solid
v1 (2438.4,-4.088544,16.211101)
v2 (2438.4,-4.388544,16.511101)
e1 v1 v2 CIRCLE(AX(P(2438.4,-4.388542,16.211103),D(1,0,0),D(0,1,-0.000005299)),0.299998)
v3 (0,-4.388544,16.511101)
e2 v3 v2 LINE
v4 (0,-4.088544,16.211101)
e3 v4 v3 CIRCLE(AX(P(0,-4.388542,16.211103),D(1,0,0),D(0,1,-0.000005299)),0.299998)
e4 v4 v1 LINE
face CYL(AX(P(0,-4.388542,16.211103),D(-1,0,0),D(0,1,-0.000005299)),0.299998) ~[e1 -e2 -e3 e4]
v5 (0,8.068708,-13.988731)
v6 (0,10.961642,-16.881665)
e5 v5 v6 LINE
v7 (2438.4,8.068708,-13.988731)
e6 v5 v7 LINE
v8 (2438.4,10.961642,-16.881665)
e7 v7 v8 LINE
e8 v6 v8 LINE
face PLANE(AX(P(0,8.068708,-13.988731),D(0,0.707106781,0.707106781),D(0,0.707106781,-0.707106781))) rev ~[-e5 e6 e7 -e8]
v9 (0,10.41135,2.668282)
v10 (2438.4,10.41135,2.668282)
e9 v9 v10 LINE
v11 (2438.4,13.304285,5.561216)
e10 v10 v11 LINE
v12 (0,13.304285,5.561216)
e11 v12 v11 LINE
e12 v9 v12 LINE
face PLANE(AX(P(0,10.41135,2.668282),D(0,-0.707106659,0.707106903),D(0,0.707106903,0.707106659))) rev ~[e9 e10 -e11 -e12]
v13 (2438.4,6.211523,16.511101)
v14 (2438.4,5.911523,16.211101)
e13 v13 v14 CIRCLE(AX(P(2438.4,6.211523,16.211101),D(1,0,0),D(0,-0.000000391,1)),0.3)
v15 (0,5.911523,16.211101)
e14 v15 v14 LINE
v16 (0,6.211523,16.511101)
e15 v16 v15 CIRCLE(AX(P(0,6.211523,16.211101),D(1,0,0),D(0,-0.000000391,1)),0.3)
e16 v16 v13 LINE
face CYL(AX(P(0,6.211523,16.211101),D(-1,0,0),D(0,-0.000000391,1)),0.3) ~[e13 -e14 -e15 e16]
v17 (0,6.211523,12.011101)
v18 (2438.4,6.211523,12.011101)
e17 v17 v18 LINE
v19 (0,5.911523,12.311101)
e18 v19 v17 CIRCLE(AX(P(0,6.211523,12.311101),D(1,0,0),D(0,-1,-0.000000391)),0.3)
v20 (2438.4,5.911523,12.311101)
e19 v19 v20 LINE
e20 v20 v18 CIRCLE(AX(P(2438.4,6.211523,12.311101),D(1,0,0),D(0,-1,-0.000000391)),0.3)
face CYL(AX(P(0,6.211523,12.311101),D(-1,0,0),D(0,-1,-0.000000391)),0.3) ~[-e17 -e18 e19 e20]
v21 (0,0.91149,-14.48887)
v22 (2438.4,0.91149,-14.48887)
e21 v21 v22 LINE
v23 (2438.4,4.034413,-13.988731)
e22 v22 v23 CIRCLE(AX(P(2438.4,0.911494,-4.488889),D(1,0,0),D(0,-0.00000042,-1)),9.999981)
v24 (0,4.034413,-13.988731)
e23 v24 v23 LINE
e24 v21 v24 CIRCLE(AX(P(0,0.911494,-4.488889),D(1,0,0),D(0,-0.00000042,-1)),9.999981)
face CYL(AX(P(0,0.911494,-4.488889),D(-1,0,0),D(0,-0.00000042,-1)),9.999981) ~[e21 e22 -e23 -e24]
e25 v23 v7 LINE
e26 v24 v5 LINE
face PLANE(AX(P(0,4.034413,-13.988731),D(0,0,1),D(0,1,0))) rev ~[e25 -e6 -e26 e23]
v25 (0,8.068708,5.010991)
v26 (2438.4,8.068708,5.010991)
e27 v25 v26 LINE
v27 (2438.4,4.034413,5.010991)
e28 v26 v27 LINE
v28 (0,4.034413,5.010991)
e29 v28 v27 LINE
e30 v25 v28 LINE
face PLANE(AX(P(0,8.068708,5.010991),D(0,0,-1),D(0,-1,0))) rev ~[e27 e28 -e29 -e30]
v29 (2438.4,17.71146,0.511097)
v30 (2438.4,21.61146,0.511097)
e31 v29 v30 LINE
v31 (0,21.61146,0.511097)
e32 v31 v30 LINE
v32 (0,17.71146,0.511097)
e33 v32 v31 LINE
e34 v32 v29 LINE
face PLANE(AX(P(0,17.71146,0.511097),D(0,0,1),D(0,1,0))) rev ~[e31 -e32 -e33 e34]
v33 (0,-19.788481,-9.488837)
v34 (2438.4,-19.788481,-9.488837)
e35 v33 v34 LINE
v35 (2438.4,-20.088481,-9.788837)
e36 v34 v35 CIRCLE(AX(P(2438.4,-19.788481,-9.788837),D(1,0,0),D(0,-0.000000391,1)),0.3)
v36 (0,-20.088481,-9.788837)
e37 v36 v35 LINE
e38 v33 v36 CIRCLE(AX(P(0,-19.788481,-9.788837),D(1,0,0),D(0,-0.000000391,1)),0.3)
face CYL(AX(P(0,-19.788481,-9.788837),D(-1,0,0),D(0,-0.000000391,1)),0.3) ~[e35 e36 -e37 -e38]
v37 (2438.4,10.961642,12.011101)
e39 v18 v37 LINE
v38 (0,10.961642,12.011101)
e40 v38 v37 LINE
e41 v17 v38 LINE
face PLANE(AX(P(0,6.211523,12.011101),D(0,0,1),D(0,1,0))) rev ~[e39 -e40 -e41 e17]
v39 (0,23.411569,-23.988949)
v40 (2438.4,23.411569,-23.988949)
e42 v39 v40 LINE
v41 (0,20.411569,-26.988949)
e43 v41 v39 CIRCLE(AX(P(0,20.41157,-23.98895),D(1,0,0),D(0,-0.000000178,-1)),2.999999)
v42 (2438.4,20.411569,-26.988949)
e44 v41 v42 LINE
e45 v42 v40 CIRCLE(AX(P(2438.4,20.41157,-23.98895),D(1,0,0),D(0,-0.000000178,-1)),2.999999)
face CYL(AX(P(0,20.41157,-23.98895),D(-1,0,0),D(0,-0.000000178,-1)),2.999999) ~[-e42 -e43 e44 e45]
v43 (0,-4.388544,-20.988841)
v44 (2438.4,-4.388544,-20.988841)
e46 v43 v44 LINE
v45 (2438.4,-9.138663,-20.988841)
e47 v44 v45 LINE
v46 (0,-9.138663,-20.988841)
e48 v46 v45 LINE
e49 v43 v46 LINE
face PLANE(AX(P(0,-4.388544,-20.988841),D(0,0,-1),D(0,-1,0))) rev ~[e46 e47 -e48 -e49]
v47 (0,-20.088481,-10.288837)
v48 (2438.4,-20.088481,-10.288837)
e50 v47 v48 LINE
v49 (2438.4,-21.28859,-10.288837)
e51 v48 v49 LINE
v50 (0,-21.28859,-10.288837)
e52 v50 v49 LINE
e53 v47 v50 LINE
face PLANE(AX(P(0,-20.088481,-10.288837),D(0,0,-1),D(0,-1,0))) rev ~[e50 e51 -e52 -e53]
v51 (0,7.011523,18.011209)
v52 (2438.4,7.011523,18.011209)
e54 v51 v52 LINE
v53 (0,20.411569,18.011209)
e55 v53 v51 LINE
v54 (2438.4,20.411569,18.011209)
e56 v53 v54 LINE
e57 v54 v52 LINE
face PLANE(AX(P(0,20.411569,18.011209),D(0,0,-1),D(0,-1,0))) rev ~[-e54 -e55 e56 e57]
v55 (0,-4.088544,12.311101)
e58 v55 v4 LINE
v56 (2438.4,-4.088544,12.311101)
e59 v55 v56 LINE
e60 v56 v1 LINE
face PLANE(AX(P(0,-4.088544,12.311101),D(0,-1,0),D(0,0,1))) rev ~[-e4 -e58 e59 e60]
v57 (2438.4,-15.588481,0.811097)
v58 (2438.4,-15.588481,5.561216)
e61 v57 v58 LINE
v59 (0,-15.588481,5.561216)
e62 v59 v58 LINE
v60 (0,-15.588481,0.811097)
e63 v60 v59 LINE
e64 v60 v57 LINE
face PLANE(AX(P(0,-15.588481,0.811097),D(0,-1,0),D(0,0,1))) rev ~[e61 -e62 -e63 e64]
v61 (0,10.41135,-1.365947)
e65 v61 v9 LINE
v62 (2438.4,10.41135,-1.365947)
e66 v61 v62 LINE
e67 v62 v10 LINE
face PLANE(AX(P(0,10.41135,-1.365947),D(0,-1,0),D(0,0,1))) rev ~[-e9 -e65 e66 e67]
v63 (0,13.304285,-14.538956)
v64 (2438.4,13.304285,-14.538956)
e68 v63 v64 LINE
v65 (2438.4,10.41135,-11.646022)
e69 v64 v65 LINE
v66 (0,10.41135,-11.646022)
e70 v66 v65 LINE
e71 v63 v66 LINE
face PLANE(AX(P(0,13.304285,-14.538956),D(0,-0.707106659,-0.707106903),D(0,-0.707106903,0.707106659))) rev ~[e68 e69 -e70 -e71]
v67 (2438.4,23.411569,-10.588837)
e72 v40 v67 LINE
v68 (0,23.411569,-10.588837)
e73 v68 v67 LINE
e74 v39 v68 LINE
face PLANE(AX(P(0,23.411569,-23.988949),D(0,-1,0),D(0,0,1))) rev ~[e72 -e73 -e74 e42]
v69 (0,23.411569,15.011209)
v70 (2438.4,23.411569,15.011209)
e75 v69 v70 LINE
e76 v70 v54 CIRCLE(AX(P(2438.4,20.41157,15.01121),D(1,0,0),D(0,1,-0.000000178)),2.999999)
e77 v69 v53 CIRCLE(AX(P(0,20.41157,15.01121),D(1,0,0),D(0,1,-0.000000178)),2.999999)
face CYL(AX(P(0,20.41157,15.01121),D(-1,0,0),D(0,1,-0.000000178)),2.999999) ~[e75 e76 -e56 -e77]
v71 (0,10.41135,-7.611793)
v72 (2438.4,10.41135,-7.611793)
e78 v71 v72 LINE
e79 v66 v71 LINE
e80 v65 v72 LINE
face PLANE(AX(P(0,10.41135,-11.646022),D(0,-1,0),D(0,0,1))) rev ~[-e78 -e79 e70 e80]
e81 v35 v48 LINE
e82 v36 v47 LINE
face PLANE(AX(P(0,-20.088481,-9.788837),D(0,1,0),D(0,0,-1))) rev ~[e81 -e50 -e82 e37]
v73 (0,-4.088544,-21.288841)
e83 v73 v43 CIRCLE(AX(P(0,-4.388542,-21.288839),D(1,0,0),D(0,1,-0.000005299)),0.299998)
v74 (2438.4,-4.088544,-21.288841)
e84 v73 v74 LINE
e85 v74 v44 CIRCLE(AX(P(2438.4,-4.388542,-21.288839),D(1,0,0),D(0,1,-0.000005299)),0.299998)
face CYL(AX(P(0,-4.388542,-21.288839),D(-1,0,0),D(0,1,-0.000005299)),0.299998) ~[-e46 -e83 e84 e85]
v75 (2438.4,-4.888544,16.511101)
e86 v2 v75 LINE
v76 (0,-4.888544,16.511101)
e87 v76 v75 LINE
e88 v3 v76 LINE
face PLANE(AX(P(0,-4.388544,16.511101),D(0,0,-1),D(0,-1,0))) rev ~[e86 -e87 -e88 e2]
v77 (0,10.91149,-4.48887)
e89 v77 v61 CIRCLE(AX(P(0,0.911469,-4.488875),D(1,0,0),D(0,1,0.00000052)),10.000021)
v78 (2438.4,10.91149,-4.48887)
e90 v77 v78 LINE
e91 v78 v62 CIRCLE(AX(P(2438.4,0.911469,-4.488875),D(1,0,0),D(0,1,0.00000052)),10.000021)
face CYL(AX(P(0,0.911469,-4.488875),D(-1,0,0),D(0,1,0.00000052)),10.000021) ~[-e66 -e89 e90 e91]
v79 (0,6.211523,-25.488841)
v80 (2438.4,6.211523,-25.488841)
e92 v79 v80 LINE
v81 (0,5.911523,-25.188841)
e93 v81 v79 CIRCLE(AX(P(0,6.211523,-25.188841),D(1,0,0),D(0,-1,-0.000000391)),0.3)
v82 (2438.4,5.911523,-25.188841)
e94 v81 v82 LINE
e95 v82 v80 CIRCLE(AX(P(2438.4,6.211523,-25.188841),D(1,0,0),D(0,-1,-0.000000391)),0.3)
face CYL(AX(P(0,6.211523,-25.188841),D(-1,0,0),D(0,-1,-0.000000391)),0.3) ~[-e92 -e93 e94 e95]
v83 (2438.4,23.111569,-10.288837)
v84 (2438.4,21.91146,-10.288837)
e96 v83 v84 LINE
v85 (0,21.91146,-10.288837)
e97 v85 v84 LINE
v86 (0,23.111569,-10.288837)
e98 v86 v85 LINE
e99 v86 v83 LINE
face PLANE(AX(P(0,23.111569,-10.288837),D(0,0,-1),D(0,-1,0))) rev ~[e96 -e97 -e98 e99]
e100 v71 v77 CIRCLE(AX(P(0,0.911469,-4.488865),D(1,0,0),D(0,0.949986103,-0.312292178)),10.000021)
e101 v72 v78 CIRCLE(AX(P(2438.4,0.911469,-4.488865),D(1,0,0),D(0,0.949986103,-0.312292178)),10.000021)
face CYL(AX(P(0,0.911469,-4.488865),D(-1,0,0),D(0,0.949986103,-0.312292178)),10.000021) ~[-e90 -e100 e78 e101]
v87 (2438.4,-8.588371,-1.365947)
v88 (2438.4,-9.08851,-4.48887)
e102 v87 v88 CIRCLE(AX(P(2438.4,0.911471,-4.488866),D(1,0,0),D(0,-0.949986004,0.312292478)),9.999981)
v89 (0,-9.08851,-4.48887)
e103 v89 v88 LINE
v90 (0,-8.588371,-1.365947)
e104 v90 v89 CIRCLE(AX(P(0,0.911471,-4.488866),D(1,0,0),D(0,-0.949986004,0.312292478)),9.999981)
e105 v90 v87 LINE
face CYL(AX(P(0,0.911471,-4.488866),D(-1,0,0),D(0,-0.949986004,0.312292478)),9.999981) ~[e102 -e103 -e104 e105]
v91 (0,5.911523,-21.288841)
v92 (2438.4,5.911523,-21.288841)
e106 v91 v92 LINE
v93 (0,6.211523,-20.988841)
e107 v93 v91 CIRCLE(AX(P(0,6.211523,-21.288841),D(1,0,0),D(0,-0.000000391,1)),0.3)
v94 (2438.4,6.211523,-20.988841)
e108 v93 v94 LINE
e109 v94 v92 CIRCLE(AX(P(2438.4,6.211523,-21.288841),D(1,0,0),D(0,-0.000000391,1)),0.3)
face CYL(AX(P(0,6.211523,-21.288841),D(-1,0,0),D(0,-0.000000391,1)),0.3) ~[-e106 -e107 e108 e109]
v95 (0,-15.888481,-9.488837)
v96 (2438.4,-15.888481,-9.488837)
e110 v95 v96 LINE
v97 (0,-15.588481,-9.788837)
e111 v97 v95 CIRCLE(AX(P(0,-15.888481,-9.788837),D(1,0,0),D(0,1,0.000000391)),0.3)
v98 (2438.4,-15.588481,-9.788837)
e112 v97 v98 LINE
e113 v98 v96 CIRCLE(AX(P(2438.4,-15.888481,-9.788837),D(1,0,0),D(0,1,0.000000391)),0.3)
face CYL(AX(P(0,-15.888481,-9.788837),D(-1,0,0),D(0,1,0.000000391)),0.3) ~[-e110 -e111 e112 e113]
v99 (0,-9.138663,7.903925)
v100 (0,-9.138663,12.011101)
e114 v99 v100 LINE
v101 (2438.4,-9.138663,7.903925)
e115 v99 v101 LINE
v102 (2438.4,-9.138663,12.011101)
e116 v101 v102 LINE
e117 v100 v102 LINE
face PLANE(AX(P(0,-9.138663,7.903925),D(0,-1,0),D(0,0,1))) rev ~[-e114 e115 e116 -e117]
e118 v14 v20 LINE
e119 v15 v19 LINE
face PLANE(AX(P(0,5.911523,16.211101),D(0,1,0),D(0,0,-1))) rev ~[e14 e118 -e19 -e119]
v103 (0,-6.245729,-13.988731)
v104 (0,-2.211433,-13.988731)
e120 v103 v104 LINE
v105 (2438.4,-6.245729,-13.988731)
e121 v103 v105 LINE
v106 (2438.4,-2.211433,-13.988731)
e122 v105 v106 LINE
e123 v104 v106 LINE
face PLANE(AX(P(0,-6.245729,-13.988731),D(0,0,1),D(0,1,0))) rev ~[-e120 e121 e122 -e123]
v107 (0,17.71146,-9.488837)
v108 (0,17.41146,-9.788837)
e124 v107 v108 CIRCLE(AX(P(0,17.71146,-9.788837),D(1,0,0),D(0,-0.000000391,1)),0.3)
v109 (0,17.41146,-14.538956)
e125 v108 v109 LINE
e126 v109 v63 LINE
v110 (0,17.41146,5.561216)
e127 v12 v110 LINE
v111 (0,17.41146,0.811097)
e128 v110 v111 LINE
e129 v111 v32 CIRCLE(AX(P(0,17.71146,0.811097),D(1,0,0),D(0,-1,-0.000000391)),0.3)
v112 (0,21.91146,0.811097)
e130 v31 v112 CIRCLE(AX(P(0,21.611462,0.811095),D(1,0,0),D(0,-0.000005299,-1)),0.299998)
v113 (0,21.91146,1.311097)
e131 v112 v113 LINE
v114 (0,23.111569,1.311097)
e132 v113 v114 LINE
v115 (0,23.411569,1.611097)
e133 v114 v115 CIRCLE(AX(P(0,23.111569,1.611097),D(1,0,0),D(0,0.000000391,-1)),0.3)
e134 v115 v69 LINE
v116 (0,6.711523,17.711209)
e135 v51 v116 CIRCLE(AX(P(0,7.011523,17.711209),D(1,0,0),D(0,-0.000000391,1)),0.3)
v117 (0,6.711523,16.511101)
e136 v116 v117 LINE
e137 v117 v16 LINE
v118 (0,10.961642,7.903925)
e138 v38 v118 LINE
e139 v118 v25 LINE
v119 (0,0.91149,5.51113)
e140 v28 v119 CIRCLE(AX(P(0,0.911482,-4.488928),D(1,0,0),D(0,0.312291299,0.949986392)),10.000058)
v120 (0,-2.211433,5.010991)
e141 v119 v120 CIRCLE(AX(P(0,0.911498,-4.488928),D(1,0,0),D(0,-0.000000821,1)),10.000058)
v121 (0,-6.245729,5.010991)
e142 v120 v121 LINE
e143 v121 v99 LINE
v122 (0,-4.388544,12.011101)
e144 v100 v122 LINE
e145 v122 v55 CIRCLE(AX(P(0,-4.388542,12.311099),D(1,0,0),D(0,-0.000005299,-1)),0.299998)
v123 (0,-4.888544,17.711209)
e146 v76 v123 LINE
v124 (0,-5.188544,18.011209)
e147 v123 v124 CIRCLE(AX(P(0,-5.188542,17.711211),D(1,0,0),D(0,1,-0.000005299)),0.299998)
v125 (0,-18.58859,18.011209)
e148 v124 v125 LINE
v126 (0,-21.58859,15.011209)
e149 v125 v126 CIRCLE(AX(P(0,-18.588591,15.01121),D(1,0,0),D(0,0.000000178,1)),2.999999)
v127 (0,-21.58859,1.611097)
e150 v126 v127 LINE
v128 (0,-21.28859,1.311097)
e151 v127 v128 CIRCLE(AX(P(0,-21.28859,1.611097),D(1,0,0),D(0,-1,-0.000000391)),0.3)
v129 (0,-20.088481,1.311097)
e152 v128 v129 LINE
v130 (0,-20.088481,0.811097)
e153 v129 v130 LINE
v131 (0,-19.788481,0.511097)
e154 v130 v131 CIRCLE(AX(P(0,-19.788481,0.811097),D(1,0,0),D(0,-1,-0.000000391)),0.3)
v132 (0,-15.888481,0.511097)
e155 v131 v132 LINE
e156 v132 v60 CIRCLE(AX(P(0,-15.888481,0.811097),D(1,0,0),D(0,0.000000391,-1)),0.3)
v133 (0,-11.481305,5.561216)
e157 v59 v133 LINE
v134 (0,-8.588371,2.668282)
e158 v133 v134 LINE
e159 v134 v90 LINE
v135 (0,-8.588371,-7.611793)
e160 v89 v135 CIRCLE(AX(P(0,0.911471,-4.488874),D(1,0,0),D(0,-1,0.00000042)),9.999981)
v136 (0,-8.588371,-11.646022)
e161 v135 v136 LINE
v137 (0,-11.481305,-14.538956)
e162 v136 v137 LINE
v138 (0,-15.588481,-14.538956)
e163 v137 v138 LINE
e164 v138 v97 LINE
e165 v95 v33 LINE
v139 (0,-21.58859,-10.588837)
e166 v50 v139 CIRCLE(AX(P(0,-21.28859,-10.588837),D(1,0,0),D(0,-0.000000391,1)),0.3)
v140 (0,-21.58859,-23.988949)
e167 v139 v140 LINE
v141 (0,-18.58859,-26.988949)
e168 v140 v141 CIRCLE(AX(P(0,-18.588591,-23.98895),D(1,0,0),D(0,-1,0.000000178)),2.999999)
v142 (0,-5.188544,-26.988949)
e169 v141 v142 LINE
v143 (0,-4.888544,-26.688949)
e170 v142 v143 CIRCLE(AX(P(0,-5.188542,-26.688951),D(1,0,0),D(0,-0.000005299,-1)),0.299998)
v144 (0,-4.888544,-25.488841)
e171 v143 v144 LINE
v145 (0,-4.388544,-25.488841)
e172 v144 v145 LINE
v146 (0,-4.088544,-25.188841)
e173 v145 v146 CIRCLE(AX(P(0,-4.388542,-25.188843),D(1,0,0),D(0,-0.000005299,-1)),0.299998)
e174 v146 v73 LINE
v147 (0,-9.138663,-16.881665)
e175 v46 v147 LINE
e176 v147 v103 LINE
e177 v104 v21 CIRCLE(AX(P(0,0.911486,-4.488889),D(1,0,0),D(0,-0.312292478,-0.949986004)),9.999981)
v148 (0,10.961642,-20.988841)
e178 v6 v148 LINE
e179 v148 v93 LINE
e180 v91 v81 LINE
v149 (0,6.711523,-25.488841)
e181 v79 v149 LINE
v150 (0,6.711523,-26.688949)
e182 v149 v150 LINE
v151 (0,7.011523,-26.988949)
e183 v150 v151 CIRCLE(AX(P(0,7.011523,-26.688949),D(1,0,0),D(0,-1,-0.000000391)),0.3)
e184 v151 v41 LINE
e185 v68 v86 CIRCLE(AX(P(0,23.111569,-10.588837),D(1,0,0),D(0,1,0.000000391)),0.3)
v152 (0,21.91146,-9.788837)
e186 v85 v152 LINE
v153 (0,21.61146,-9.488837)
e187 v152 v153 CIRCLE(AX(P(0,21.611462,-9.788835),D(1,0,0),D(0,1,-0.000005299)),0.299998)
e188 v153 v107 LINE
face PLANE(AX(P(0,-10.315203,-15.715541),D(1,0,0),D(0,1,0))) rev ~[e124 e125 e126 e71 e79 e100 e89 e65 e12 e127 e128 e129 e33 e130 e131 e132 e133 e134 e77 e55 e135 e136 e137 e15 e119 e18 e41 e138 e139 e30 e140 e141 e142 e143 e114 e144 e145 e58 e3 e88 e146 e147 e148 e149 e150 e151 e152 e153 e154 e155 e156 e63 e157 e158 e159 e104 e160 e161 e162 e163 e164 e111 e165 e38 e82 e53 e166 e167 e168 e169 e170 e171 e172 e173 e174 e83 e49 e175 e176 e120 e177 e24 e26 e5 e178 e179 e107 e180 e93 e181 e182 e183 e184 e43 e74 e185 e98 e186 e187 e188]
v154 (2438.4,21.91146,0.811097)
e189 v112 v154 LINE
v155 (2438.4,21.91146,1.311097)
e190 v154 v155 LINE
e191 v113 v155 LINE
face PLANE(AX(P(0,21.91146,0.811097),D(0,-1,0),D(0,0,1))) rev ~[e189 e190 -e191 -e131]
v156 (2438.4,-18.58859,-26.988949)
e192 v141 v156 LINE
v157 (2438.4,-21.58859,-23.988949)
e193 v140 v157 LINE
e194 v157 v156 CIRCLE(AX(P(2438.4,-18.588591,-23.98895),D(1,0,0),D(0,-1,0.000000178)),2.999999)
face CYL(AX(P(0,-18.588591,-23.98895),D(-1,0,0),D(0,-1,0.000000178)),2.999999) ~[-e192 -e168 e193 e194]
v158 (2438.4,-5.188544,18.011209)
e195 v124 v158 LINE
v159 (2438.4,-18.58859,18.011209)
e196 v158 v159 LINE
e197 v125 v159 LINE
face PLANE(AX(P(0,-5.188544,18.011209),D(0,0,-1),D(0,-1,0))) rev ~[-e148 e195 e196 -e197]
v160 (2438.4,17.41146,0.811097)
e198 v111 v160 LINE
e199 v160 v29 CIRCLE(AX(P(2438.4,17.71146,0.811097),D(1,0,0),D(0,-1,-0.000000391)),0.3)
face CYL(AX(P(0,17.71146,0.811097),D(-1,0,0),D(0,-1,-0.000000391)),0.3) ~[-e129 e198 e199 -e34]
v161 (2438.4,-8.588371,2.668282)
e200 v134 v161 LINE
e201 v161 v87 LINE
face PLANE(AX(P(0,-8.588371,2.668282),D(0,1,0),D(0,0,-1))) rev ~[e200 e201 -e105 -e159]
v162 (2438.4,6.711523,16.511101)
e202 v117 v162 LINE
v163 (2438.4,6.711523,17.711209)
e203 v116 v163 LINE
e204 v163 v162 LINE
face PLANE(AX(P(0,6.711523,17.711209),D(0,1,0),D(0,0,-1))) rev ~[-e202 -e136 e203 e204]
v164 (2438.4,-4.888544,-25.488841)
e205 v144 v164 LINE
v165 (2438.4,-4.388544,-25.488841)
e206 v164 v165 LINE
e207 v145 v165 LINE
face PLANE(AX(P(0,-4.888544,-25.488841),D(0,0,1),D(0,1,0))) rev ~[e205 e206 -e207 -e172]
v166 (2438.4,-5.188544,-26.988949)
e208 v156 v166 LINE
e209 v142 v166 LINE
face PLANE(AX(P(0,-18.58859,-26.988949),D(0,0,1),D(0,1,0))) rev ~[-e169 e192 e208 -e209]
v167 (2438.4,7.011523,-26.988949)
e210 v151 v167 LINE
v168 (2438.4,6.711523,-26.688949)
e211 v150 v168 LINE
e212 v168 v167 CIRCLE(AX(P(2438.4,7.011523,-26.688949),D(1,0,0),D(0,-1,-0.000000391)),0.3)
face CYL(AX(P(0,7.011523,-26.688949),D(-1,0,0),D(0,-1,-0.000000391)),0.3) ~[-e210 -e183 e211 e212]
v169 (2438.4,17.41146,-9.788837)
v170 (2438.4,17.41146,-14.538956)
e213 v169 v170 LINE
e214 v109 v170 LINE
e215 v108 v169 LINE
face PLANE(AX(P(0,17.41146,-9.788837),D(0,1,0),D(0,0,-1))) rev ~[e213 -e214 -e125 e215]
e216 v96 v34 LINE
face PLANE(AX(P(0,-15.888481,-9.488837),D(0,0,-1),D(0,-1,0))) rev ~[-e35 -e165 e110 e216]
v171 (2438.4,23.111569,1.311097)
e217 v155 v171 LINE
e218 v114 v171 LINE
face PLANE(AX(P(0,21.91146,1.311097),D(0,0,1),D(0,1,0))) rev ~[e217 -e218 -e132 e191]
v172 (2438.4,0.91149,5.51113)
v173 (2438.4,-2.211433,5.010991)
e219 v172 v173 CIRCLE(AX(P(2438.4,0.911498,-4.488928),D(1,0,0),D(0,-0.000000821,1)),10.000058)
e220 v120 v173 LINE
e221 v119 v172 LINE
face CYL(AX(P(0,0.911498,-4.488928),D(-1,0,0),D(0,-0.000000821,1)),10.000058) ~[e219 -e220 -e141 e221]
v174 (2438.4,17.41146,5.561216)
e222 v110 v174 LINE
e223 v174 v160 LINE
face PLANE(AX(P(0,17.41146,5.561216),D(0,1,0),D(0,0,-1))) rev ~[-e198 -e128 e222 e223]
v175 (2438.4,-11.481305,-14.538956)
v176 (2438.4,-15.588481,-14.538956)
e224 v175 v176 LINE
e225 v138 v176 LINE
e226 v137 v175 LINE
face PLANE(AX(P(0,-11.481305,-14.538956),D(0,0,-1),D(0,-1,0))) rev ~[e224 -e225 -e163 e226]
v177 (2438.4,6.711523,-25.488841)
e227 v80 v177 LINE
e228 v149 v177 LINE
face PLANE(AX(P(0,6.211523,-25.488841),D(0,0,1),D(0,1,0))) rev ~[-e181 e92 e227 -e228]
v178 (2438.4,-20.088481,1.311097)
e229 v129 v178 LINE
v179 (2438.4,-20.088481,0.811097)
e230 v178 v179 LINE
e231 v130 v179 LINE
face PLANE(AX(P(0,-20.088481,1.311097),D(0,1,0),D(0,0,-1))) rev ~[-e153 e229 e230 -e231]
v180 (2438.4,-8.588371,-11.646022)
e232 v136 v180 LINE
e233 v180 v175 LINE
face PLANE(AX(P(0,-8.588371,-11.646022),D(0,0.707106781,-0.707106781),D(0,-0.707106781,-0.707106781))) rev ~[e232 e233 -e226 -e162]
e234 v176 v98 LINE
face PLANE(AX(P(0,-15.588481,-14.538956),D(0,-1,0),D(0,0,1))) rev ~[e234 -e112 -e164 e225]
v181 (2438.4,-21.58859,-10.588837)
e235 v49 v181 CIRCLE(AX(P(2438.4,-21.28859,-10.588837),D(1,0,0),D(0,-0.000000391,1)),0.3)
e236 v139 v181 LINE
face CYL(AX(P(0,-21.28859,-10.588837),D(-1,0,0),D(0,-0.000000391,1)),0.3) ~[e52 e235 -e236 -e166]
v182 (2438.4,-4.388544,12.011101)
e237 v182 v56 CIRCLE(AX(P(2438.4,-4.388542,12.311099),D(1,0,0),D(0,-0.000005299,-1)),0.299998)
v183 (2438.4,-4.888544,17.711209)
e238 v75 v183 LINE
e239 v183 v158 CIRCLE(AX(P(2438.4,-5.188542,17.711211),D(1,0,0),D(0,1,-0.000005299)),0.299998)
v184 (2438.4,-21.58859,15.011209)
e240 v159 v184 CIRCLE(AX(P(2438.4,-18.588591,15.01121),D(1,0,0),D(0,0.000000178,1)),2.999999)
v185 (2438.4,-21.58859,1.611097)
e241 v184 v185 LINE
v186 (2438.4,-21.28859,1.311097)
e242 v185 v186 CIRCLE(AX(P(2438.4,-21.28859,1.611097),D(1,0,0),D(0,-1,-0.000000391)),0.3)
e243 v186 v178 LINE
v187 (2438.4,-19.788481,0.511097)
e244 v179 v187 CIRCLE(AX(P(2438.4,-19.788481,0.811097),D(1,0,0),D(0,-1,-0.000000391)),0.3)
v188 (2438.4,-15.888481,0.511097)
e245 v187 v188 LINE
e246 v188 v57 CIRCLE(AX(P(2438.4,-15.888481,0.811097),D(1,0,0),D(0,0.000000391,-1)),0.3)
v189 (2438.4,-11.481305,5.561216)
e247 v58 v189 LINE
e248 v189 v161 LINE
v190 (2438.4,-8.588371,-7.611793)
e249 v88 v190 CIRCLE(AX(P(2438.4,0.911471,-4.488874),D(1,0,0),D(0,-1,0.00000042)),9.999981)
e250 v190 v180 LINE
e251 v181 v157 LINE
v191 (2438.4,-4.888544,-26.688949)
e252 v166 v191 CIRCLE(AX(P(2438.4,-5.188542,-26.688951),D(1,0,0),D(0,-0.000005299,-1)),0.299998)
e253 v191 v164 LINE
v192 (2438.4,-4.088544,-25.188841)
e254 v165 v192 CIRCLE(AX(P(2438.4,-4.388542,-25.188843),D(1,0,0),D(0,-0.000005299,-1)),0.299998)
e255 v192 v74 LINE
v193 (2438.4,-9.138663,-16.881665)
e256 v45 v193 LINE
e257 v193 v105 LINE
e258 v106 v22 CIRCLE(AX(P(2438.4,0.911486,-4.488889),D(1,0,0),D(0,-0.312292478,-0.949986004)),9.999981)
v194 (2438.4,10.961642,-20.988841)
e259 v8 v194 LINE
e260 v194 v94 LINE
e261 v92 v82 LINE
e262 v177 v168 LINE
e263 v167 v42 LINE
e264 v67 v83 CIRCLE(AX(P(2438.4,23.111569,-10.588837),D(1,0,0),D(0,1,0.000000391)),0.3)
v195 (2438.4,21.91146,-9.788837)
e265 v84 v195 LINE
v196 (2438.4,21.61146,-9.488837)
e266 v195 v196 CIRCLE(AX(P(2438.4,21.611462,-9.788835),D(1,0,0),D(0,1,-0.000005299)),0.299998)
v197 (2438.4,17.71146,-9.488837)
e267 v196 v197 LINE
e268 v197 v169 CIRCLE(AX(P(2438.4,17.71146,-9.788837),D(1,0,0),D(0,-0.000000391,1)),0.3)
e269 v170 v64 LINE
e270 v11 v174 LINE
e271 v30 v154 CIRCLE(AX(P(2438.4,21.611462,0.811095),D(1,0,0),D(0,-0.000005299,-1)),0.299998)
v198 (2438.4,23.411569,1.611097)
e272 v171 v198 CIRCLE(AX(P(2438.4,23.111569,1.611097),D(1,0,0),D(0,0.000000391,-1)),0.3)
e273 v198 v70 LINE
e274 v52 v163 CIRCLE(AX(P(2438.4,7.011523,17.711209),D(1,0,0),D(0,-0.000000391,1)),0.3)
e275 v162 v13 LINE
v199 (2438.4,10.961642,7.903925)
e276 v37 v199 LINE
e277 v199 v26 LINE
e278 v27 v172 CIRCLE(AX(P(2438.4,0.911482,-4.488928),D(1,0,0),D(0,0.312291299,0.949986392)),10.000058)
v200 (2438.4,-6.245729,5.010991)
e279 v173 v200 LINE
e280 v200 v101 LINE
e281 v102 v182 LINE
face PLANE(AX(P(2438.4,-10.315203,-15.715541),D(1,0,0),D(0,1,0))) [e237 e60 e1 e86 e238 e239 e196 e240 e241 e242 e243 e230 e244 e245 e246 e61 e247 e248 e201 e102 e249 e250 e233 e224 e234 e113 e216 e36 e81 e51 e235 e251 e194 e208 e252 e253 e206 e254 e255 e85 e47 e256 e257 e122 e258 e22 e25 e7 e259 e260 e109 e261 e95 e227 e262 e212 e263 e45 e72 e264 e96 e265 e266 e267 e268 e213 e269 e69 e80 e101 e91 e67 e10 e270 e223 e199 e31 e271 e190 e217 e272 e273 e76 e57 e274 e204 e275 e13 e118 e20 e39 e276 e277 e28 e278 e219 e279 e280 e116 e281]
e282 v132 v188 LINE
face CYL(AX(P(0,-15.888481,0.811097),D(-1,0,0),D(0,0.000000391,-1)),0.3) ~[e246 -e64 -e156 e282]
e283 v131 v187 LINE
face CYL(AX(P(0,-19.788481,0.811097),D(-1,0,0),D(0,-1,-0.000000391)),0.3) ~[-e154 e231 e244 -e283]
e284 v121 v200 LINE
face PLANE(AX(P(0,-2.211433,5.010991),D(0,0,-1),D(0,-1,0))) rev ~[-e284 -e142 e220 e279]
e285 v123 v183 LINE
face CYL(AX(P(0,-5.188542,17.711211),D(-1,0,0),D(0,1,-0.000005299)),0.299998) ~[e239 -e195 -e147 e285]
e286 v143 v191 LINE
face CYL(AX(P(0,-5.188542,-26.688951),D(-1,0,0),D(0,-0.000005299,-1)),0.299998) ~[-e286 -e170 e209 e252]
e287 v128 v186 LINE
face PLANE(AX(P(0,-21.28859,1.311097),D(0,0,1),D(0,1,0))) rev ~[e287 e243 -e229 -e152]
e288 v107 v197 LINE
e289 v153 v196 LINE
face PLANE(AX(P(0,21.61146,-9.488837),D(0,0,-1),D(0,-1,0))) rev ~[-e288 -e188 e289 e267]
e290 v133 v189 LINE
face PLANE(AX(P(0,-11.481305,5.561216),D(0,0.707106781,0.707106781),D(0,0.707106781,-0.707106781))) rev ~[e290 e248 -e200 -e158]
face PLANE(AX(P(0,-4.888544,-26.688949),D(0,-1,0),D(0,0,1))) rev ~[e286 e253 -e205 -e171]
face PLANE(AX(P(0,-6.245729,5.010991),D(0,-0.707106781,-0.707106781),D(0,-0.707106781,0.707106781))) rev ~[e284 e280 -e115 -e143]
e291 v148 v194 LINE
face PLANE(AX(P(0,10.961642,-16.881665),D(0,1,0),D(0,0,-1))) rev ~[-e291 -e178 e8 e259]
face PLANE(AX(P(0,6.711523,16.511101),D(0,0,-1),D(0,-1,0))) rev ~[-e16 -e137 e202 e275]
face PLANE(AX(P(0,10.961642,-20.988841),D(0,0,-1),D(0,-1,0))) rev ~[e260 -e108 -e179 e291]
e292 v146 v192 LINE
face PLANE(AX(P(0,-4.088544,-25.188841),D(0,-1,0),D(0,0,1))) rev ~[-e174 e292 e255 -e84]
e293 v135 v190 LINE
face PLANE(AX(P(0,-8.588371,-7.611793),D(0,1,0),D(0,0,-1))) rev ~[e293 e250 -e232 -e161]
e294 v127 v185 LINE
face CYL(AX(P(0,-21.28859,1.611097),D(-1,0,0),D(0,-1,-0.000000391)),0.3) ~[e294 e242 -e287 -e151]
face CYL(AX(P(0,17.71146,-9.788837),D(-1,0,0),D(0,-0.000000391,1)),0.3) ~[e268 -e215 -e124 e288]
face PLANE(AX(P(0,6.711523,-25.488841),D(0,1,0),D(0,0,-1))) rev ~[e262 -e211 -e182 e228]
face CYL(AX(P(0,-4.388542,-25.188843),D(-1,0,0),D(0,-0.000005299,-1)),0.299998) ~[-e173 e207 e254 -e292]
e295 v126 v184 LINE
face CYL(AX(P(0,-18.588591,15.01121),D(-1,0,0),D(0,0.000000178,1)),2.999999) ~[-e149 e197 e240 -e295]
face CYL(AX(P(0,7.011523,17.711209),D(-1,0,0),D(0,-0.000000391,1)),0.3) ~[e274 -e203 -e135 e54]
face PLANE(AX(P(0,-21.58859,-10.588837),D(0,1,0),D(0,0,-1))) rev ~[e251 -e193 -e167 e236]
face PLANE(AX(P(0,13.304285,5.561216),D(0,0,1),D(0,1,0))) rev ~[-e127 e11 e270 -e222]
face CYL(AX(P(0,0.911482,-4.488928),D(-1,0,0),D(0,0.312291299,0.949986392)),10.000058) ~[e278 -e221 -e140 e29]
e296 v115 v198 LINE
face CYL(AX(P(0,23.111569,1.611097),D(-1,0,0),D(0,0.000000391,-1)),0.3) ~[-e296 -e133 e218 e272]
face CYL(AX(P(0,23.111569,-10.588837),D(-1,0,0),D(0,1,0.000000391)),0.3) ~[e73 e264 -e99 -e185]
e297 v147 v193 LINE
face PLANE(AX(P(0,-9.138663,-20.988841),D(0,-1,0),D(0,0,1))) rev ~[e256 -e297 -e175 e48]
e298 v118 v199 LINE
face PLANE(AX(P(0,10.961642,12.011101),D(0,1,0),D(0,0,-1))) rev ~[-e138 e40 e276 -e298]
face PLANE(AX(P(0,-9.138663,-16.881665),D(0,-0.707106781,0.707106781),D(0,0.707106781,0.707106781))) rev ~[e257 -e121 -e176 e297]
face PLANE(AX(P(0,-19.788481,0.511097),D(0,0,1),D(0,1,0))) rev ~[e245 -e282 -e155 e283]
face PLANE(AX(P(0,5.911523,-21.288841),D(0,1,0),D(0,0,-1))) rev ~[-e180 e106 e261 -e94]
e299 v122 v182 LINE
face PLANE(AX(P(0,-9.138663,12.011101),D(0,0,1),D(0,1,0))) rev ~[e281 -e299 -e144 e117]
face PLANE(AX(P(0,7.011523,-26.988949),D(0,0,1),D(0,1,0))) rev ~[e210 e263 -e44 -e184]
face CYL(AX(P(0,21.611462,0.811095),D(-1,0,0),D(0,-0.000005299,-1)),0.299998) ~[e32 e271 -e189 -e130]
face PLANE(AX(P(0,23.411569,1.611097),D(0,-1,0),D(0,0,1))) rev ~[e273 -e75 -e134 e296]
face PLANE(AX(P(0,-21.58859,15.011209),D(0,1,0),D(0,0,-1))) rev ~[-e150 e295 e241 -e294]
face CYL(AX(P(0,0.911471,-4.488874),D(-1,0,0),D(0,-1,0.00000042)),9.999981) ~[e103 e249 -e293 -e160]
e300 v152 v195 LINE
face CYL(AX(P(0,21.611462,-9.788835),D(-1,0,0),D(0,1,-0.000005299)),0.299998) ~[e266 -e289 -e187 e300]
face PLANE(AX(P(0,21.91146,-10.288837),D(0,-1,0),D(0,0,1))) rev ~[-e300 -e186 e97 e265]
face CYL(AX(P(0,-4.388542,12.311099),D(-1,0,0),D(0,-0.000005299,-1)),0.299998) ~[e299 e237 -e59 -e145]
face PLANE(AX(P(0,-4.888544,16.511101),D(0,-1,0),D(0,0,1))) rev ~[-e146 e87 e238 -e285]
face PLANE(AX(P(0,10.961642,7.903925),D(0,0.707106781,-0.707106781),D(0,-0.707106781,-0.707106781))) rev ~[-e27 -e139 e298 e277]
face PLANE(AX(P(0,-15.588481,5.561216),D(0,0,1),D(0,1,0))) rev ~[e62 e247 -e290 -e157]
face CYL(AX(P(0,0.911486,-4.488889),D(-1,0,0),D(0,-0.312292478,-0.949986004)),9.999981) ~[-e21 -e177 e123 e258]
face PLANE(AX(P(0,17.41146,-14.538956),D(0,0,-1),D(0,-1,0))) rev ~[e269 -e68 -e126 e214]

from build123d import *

# Parameters (mm, degrees)
F1_DEPTH = 2438.4


with BuildPart() as f1:
    # F0 (on Right) → F1 (new body)
    with BuildSketch(Plane.YZ):
        with BuildLine():
            Line((-20.088481, -9.788837), (-20.088481, -10.288837))
            Line((-20.088481, -10.288837), (-21.28859, -10.288837))
            ThreePointArc((-21.28859, -10.288837), (-21.500722, -10.376705), (-21.58859, -10.588837))
            Line((-21.58859, -10.588837), (-21.58859, -23.988949))
            ThreePointArc((-21.58859, -23.988949), (-20.70991, -26.11027), (-18.58859, -26.988949))
            Line((-18.58859, -26.988949), (-5.188544, -26.988949))
            ThreePointArc((-5.188544, -26.988949), (-4.976411, -26.901081), (-4.888544, -26.688949))
            Line((-4.888544, -26.688949), (-4.888544, -25.488841))
            Line((-4.888544, -25.488841), (-4.388544, -25.488841))
            ThreePointArc((-4.388544, -25.488841), (-4.176411, -25.400973), (-4.088544, -25.188841))
            Line((-4.088544, -25.188841), (-4.088544, -21.288841))
            ThreePointArc((-4.088544, -21.288841), (-4.176411, -21.076709), (-4.388544, -20.988841))
            Line((-4.388544, -20.988841), (-9.138663, -20.988841))
            Line((-9.138663, -20.988841), (-9.138663, -16.881665))
            Line((-9.138663, -16.881665), (-6.245729, -13.988731))
            Line((-6.245729, -13.988731), (-2.211433, -13.988731))
            ThreePointArc((-2.211433, -13.988731), (-0.669869, -14.363044), (0.91149, -14.48887))
            Line((0.91149, -14.48887), (0.91149, -4.48887))
            Line((0.91149, -4.48887), (-9.08851, -4.48887))
            ThreePointArc((-9.08851, -4.48887), (-8.962684, -6.070229), (-8.588371, -7.611793))
            Line((-8.588371, -7.611793), (-8.588371, -11.646022))
            Line((-8.588371, -11.646022), (-11.481305, -14.538956))
            Line((-11.481305, -14.538956), (-15.588481, -14.538956))
            Line((-15.588481, -14.538956), (-15.588481, -9.788837))
            ThreePointArc((-15.588481, -9.788837), (-15.676349, -9.576705), (-15.888481, -9.488837))
            Line((-15.888481, -9.488837), (-19.788481, -9.488837))
            ThreePointArc((-19.788481, -9.488837), (-20.000613, -9.576705), (-20.088481, -9.788837))
        make_face()
        with BuildLine():
            ThreePointArc((-8.588371, -1.365947), (-8.962684, -2.907511), (-9.08851, -4.48887))
            Line((-9.08851, -4.48887), (0.91149, -4.48887))
            Line((0.91149, -4.48887), (0.91149, 5.51113))
            ThreePointArc((0.91149, 5.51113), (-0.669869, 5.385303), (-2.211433, 5.010991))
            Line((-2.211433, 5.010991), (-6.245729, 5.010991))
            Line((-6.245729, 5.010991), (-9.138663, 7.903925))
            Line((-9.138663, 7.903925), (-9.138663, 12.011101))
            Line((-9.138663, 12.011101), (-4.388544, 12.011101))
            ThreePointArc((-4.388544, 12.011101), (-4.176411, 12.098969), (-4.088544, 12.311101))
            Line((-4.088544, 12.311101), (-4.088544, 16.211101))
            ThreePointArc((-4.088544, 16.211101), (-4.176411, 16.423233), (-4.388544, 16.511101))
            Line((-4.388544, 16.511101), (-4.888544, 16.511101))
            Line((-4.888544, 16.511101), (-4.888544, 17.711209))
            ThreePointArc((-4.888544, 17.711209), (-4.976411, 17.923341), (-5.188544, 18.011209))
            Line((-5.188544, 18.011209), (-18.58859, 18.011209))
            ThreePointArc((-18.58859, 18.011209), (-20.70991, 17.13253), (-21.58859, 15.011209))
            Line((-21.58859, 15.011209), (-21.58859, 1.611097))
            ThreePointArc((-21.58859, 1.611097), (-21.500722, 1.398965), (-21.28859, 1.311097))
            Line((-21.28859, 1.311097), (-20.088481, 1.311097))
            Line((-20.088481, 1.311097), (-20.088481, 0.811097))
            ThreePointArc((-20.088481, 0.811097), (-20.000613, 0.598965), (-19.788481, 0.511097))
            Line((-19.788481, 0.511097), (-15.888481, 0.511097))
            ThreePointArc((-15.888481, 0.511097), (-15.676349, 0.598965), (-15.588481, 0.811097))
            Line((-15.588481, 0.811097), (-15.588481, 5.561216))
            Line((-15.588481, 5.561216), (-11.481305, 5.561216))
            Line((-11.481305, 5.561216), (-8.588371, 2.668282))
            Line((-8.588371, 2.668282), (-8.588371, -1.365947))
        make_face()
        with BuildLine():
            Line((0.91149, 5.51113), (0.91149, -4.48887))
            Line((0.91149, -4.48887), (10.91149, -4.48887))
            ThreePointArc((10.91149, -4.48887), (10.785663, -2.907511), (10.41135, -1.365947))
            Line((10.41135, -1.365947), (10.41135, 2.668282))
            Line((10.41135, 2.668282), (13.304285, 5.561216))
            Line((13.304285, 5.561216), (14.016842, 5.561216))
            Line((14.016842, 5.561216), (17.41146, 5.561216))
            Line((17.41146, 5.561216), (17.41146, 0.811097))
            ThreePointArc((17.41146, 0.811097), (17.499328, 0.598965), (17.71146, 0.511097))
            Line((17.71146, 0.511097), (21.61146, 0.511097))
            ThreePointArc((21.61146, 0.511097), (21.823593, 0.598965), (21.91146, 0.811097))
            Line((21.91146, 0.811097), (21.91146, 1.311097))
            Line((21.91146, 1.311097), (23.111569, 1.311097))
            ThreePointArc((23.111569, 1.311097), (23.323701, 1.398965), (23.411569, 1.611097))
            Line((23.411569, 1.611097), (23.411569, 15.011209))
            ThreePointArc((23.411569, 15.011209), (22.532889, 17.13253), (20.411569, 18.011209))
            Line((20.411569, 18.011209), (7.011523, 18.011209))
            ThreePointArc((7.011523, 18.011209), (6.799391, 17.923341), (6.711523, 17.711209))
            Line((6.711523, 17.711209), (6.711523, 16.511101))
            Line((6.711523, 16.511101), (6.211523, 16.511101))
            ThreePointArc((6.211523, 16.511101), (5.999391, 16.423233), (5.911523, 16.211101))
            Line((5.911523, 16.211101), (5.911523, 12.311101))
            ThreePointArc((5.911523, 12.311101), (5.999391, 12.098969), (6.211523, 12.011101))
            Line((6.211523, 12.011101), (10.961642, 12.011101))
            Line((10.961642, 12.011101), (10.961642, 7.903925))
            Line((10.961642, 7.903925), (8.068708, 5.010991))
            Line((8.068708, 5.010991), (4.034413, 5.010991))
            ThreePointArc((4.034413, 5.010991), (2.492849, 5.385303), (0.91149, 5.51113))
        make_face()
        with BuildLine():
            Line((10.91149, -4.48887), (0.91149, -4.48887))
            Line((0.91149, -4.48887), (0.91149, -14.48887))
            ThreePointArc((0.91149, -14.48887), (2.492849, -14.363044), (4.034413, -13.988731))
            Line((4.034413, -13.988731), (8.068708, -13.988731))
            Line((8.068708, -13.988731), (10.961642, -16.881665))
            Line((10.961642, -16.881665), (10.961642, -20.988841))
            Line((10.961642, -20.988841), (6.211523, -20.988841))
            ThreePointArc((6.211523, -20.988841), (5.999391, -21.076709), (5.911523, -21.288841))
            Line((5.911523, -21.288841), (5.911523, -25.188841))
            ThreePointArc((5.911523, -25.188841), (5.999391, -25.400973), (6.211523, -25.488841))
            Line((6.211523, -25.488841), (6.711523, -25.488841))
            Line((6.711523, -25.488841), (6.711523, -26.688949))
            ThreePointArc((6.711523, -26.688949), (6.799391, -26.901081), (7.011523, -26.988949))
            Line((7.011523, -26.988949), (20.411569, -26.988949))
            ThreePointArc((20.411569, -26.988949), (22.532889, -26.11027), (23.411569, -23.988949))
            Line((23.411569, -23.988949), (23.411569, -10.588837))
            ThreePointArc((23.411569, -10.588837), (23.323701, -10.376705), (23.111569, -10.288837))
            Line((23.111569, -10.288837), (21.91146, -10.288837))
            Line((21.91146, -10.288837), (21.91146, -9.788837))
            ThreePointArc((21.91146, -9.788837), (21.823593, -9.576705), (21.61146, -9.488837))
            Line((21.61146, -9.488837), (17.71146, -9.488837))
            ThreePointArc((17.71146, -9.488837), (17.499328, -9.576705), (17.41146, -9.788837))
            Line((17.41146, -9.788837), (17.41146, -14.538956))
            Line((17.41146, -14.538956), (13.304285, -14.538956))
            Line((13.304285, -14.538956), (10.41135, -11.646022))
            Line((10.41135, -11.646022), (10.41135, -7.611793))
            ThreePointArc((10.41135, -7.611793), (10.785663, -6.070229), (10.91149, -4.48887))
        make_face()
    extrude(amount=F1_DEPTH)


solid = f1.part
